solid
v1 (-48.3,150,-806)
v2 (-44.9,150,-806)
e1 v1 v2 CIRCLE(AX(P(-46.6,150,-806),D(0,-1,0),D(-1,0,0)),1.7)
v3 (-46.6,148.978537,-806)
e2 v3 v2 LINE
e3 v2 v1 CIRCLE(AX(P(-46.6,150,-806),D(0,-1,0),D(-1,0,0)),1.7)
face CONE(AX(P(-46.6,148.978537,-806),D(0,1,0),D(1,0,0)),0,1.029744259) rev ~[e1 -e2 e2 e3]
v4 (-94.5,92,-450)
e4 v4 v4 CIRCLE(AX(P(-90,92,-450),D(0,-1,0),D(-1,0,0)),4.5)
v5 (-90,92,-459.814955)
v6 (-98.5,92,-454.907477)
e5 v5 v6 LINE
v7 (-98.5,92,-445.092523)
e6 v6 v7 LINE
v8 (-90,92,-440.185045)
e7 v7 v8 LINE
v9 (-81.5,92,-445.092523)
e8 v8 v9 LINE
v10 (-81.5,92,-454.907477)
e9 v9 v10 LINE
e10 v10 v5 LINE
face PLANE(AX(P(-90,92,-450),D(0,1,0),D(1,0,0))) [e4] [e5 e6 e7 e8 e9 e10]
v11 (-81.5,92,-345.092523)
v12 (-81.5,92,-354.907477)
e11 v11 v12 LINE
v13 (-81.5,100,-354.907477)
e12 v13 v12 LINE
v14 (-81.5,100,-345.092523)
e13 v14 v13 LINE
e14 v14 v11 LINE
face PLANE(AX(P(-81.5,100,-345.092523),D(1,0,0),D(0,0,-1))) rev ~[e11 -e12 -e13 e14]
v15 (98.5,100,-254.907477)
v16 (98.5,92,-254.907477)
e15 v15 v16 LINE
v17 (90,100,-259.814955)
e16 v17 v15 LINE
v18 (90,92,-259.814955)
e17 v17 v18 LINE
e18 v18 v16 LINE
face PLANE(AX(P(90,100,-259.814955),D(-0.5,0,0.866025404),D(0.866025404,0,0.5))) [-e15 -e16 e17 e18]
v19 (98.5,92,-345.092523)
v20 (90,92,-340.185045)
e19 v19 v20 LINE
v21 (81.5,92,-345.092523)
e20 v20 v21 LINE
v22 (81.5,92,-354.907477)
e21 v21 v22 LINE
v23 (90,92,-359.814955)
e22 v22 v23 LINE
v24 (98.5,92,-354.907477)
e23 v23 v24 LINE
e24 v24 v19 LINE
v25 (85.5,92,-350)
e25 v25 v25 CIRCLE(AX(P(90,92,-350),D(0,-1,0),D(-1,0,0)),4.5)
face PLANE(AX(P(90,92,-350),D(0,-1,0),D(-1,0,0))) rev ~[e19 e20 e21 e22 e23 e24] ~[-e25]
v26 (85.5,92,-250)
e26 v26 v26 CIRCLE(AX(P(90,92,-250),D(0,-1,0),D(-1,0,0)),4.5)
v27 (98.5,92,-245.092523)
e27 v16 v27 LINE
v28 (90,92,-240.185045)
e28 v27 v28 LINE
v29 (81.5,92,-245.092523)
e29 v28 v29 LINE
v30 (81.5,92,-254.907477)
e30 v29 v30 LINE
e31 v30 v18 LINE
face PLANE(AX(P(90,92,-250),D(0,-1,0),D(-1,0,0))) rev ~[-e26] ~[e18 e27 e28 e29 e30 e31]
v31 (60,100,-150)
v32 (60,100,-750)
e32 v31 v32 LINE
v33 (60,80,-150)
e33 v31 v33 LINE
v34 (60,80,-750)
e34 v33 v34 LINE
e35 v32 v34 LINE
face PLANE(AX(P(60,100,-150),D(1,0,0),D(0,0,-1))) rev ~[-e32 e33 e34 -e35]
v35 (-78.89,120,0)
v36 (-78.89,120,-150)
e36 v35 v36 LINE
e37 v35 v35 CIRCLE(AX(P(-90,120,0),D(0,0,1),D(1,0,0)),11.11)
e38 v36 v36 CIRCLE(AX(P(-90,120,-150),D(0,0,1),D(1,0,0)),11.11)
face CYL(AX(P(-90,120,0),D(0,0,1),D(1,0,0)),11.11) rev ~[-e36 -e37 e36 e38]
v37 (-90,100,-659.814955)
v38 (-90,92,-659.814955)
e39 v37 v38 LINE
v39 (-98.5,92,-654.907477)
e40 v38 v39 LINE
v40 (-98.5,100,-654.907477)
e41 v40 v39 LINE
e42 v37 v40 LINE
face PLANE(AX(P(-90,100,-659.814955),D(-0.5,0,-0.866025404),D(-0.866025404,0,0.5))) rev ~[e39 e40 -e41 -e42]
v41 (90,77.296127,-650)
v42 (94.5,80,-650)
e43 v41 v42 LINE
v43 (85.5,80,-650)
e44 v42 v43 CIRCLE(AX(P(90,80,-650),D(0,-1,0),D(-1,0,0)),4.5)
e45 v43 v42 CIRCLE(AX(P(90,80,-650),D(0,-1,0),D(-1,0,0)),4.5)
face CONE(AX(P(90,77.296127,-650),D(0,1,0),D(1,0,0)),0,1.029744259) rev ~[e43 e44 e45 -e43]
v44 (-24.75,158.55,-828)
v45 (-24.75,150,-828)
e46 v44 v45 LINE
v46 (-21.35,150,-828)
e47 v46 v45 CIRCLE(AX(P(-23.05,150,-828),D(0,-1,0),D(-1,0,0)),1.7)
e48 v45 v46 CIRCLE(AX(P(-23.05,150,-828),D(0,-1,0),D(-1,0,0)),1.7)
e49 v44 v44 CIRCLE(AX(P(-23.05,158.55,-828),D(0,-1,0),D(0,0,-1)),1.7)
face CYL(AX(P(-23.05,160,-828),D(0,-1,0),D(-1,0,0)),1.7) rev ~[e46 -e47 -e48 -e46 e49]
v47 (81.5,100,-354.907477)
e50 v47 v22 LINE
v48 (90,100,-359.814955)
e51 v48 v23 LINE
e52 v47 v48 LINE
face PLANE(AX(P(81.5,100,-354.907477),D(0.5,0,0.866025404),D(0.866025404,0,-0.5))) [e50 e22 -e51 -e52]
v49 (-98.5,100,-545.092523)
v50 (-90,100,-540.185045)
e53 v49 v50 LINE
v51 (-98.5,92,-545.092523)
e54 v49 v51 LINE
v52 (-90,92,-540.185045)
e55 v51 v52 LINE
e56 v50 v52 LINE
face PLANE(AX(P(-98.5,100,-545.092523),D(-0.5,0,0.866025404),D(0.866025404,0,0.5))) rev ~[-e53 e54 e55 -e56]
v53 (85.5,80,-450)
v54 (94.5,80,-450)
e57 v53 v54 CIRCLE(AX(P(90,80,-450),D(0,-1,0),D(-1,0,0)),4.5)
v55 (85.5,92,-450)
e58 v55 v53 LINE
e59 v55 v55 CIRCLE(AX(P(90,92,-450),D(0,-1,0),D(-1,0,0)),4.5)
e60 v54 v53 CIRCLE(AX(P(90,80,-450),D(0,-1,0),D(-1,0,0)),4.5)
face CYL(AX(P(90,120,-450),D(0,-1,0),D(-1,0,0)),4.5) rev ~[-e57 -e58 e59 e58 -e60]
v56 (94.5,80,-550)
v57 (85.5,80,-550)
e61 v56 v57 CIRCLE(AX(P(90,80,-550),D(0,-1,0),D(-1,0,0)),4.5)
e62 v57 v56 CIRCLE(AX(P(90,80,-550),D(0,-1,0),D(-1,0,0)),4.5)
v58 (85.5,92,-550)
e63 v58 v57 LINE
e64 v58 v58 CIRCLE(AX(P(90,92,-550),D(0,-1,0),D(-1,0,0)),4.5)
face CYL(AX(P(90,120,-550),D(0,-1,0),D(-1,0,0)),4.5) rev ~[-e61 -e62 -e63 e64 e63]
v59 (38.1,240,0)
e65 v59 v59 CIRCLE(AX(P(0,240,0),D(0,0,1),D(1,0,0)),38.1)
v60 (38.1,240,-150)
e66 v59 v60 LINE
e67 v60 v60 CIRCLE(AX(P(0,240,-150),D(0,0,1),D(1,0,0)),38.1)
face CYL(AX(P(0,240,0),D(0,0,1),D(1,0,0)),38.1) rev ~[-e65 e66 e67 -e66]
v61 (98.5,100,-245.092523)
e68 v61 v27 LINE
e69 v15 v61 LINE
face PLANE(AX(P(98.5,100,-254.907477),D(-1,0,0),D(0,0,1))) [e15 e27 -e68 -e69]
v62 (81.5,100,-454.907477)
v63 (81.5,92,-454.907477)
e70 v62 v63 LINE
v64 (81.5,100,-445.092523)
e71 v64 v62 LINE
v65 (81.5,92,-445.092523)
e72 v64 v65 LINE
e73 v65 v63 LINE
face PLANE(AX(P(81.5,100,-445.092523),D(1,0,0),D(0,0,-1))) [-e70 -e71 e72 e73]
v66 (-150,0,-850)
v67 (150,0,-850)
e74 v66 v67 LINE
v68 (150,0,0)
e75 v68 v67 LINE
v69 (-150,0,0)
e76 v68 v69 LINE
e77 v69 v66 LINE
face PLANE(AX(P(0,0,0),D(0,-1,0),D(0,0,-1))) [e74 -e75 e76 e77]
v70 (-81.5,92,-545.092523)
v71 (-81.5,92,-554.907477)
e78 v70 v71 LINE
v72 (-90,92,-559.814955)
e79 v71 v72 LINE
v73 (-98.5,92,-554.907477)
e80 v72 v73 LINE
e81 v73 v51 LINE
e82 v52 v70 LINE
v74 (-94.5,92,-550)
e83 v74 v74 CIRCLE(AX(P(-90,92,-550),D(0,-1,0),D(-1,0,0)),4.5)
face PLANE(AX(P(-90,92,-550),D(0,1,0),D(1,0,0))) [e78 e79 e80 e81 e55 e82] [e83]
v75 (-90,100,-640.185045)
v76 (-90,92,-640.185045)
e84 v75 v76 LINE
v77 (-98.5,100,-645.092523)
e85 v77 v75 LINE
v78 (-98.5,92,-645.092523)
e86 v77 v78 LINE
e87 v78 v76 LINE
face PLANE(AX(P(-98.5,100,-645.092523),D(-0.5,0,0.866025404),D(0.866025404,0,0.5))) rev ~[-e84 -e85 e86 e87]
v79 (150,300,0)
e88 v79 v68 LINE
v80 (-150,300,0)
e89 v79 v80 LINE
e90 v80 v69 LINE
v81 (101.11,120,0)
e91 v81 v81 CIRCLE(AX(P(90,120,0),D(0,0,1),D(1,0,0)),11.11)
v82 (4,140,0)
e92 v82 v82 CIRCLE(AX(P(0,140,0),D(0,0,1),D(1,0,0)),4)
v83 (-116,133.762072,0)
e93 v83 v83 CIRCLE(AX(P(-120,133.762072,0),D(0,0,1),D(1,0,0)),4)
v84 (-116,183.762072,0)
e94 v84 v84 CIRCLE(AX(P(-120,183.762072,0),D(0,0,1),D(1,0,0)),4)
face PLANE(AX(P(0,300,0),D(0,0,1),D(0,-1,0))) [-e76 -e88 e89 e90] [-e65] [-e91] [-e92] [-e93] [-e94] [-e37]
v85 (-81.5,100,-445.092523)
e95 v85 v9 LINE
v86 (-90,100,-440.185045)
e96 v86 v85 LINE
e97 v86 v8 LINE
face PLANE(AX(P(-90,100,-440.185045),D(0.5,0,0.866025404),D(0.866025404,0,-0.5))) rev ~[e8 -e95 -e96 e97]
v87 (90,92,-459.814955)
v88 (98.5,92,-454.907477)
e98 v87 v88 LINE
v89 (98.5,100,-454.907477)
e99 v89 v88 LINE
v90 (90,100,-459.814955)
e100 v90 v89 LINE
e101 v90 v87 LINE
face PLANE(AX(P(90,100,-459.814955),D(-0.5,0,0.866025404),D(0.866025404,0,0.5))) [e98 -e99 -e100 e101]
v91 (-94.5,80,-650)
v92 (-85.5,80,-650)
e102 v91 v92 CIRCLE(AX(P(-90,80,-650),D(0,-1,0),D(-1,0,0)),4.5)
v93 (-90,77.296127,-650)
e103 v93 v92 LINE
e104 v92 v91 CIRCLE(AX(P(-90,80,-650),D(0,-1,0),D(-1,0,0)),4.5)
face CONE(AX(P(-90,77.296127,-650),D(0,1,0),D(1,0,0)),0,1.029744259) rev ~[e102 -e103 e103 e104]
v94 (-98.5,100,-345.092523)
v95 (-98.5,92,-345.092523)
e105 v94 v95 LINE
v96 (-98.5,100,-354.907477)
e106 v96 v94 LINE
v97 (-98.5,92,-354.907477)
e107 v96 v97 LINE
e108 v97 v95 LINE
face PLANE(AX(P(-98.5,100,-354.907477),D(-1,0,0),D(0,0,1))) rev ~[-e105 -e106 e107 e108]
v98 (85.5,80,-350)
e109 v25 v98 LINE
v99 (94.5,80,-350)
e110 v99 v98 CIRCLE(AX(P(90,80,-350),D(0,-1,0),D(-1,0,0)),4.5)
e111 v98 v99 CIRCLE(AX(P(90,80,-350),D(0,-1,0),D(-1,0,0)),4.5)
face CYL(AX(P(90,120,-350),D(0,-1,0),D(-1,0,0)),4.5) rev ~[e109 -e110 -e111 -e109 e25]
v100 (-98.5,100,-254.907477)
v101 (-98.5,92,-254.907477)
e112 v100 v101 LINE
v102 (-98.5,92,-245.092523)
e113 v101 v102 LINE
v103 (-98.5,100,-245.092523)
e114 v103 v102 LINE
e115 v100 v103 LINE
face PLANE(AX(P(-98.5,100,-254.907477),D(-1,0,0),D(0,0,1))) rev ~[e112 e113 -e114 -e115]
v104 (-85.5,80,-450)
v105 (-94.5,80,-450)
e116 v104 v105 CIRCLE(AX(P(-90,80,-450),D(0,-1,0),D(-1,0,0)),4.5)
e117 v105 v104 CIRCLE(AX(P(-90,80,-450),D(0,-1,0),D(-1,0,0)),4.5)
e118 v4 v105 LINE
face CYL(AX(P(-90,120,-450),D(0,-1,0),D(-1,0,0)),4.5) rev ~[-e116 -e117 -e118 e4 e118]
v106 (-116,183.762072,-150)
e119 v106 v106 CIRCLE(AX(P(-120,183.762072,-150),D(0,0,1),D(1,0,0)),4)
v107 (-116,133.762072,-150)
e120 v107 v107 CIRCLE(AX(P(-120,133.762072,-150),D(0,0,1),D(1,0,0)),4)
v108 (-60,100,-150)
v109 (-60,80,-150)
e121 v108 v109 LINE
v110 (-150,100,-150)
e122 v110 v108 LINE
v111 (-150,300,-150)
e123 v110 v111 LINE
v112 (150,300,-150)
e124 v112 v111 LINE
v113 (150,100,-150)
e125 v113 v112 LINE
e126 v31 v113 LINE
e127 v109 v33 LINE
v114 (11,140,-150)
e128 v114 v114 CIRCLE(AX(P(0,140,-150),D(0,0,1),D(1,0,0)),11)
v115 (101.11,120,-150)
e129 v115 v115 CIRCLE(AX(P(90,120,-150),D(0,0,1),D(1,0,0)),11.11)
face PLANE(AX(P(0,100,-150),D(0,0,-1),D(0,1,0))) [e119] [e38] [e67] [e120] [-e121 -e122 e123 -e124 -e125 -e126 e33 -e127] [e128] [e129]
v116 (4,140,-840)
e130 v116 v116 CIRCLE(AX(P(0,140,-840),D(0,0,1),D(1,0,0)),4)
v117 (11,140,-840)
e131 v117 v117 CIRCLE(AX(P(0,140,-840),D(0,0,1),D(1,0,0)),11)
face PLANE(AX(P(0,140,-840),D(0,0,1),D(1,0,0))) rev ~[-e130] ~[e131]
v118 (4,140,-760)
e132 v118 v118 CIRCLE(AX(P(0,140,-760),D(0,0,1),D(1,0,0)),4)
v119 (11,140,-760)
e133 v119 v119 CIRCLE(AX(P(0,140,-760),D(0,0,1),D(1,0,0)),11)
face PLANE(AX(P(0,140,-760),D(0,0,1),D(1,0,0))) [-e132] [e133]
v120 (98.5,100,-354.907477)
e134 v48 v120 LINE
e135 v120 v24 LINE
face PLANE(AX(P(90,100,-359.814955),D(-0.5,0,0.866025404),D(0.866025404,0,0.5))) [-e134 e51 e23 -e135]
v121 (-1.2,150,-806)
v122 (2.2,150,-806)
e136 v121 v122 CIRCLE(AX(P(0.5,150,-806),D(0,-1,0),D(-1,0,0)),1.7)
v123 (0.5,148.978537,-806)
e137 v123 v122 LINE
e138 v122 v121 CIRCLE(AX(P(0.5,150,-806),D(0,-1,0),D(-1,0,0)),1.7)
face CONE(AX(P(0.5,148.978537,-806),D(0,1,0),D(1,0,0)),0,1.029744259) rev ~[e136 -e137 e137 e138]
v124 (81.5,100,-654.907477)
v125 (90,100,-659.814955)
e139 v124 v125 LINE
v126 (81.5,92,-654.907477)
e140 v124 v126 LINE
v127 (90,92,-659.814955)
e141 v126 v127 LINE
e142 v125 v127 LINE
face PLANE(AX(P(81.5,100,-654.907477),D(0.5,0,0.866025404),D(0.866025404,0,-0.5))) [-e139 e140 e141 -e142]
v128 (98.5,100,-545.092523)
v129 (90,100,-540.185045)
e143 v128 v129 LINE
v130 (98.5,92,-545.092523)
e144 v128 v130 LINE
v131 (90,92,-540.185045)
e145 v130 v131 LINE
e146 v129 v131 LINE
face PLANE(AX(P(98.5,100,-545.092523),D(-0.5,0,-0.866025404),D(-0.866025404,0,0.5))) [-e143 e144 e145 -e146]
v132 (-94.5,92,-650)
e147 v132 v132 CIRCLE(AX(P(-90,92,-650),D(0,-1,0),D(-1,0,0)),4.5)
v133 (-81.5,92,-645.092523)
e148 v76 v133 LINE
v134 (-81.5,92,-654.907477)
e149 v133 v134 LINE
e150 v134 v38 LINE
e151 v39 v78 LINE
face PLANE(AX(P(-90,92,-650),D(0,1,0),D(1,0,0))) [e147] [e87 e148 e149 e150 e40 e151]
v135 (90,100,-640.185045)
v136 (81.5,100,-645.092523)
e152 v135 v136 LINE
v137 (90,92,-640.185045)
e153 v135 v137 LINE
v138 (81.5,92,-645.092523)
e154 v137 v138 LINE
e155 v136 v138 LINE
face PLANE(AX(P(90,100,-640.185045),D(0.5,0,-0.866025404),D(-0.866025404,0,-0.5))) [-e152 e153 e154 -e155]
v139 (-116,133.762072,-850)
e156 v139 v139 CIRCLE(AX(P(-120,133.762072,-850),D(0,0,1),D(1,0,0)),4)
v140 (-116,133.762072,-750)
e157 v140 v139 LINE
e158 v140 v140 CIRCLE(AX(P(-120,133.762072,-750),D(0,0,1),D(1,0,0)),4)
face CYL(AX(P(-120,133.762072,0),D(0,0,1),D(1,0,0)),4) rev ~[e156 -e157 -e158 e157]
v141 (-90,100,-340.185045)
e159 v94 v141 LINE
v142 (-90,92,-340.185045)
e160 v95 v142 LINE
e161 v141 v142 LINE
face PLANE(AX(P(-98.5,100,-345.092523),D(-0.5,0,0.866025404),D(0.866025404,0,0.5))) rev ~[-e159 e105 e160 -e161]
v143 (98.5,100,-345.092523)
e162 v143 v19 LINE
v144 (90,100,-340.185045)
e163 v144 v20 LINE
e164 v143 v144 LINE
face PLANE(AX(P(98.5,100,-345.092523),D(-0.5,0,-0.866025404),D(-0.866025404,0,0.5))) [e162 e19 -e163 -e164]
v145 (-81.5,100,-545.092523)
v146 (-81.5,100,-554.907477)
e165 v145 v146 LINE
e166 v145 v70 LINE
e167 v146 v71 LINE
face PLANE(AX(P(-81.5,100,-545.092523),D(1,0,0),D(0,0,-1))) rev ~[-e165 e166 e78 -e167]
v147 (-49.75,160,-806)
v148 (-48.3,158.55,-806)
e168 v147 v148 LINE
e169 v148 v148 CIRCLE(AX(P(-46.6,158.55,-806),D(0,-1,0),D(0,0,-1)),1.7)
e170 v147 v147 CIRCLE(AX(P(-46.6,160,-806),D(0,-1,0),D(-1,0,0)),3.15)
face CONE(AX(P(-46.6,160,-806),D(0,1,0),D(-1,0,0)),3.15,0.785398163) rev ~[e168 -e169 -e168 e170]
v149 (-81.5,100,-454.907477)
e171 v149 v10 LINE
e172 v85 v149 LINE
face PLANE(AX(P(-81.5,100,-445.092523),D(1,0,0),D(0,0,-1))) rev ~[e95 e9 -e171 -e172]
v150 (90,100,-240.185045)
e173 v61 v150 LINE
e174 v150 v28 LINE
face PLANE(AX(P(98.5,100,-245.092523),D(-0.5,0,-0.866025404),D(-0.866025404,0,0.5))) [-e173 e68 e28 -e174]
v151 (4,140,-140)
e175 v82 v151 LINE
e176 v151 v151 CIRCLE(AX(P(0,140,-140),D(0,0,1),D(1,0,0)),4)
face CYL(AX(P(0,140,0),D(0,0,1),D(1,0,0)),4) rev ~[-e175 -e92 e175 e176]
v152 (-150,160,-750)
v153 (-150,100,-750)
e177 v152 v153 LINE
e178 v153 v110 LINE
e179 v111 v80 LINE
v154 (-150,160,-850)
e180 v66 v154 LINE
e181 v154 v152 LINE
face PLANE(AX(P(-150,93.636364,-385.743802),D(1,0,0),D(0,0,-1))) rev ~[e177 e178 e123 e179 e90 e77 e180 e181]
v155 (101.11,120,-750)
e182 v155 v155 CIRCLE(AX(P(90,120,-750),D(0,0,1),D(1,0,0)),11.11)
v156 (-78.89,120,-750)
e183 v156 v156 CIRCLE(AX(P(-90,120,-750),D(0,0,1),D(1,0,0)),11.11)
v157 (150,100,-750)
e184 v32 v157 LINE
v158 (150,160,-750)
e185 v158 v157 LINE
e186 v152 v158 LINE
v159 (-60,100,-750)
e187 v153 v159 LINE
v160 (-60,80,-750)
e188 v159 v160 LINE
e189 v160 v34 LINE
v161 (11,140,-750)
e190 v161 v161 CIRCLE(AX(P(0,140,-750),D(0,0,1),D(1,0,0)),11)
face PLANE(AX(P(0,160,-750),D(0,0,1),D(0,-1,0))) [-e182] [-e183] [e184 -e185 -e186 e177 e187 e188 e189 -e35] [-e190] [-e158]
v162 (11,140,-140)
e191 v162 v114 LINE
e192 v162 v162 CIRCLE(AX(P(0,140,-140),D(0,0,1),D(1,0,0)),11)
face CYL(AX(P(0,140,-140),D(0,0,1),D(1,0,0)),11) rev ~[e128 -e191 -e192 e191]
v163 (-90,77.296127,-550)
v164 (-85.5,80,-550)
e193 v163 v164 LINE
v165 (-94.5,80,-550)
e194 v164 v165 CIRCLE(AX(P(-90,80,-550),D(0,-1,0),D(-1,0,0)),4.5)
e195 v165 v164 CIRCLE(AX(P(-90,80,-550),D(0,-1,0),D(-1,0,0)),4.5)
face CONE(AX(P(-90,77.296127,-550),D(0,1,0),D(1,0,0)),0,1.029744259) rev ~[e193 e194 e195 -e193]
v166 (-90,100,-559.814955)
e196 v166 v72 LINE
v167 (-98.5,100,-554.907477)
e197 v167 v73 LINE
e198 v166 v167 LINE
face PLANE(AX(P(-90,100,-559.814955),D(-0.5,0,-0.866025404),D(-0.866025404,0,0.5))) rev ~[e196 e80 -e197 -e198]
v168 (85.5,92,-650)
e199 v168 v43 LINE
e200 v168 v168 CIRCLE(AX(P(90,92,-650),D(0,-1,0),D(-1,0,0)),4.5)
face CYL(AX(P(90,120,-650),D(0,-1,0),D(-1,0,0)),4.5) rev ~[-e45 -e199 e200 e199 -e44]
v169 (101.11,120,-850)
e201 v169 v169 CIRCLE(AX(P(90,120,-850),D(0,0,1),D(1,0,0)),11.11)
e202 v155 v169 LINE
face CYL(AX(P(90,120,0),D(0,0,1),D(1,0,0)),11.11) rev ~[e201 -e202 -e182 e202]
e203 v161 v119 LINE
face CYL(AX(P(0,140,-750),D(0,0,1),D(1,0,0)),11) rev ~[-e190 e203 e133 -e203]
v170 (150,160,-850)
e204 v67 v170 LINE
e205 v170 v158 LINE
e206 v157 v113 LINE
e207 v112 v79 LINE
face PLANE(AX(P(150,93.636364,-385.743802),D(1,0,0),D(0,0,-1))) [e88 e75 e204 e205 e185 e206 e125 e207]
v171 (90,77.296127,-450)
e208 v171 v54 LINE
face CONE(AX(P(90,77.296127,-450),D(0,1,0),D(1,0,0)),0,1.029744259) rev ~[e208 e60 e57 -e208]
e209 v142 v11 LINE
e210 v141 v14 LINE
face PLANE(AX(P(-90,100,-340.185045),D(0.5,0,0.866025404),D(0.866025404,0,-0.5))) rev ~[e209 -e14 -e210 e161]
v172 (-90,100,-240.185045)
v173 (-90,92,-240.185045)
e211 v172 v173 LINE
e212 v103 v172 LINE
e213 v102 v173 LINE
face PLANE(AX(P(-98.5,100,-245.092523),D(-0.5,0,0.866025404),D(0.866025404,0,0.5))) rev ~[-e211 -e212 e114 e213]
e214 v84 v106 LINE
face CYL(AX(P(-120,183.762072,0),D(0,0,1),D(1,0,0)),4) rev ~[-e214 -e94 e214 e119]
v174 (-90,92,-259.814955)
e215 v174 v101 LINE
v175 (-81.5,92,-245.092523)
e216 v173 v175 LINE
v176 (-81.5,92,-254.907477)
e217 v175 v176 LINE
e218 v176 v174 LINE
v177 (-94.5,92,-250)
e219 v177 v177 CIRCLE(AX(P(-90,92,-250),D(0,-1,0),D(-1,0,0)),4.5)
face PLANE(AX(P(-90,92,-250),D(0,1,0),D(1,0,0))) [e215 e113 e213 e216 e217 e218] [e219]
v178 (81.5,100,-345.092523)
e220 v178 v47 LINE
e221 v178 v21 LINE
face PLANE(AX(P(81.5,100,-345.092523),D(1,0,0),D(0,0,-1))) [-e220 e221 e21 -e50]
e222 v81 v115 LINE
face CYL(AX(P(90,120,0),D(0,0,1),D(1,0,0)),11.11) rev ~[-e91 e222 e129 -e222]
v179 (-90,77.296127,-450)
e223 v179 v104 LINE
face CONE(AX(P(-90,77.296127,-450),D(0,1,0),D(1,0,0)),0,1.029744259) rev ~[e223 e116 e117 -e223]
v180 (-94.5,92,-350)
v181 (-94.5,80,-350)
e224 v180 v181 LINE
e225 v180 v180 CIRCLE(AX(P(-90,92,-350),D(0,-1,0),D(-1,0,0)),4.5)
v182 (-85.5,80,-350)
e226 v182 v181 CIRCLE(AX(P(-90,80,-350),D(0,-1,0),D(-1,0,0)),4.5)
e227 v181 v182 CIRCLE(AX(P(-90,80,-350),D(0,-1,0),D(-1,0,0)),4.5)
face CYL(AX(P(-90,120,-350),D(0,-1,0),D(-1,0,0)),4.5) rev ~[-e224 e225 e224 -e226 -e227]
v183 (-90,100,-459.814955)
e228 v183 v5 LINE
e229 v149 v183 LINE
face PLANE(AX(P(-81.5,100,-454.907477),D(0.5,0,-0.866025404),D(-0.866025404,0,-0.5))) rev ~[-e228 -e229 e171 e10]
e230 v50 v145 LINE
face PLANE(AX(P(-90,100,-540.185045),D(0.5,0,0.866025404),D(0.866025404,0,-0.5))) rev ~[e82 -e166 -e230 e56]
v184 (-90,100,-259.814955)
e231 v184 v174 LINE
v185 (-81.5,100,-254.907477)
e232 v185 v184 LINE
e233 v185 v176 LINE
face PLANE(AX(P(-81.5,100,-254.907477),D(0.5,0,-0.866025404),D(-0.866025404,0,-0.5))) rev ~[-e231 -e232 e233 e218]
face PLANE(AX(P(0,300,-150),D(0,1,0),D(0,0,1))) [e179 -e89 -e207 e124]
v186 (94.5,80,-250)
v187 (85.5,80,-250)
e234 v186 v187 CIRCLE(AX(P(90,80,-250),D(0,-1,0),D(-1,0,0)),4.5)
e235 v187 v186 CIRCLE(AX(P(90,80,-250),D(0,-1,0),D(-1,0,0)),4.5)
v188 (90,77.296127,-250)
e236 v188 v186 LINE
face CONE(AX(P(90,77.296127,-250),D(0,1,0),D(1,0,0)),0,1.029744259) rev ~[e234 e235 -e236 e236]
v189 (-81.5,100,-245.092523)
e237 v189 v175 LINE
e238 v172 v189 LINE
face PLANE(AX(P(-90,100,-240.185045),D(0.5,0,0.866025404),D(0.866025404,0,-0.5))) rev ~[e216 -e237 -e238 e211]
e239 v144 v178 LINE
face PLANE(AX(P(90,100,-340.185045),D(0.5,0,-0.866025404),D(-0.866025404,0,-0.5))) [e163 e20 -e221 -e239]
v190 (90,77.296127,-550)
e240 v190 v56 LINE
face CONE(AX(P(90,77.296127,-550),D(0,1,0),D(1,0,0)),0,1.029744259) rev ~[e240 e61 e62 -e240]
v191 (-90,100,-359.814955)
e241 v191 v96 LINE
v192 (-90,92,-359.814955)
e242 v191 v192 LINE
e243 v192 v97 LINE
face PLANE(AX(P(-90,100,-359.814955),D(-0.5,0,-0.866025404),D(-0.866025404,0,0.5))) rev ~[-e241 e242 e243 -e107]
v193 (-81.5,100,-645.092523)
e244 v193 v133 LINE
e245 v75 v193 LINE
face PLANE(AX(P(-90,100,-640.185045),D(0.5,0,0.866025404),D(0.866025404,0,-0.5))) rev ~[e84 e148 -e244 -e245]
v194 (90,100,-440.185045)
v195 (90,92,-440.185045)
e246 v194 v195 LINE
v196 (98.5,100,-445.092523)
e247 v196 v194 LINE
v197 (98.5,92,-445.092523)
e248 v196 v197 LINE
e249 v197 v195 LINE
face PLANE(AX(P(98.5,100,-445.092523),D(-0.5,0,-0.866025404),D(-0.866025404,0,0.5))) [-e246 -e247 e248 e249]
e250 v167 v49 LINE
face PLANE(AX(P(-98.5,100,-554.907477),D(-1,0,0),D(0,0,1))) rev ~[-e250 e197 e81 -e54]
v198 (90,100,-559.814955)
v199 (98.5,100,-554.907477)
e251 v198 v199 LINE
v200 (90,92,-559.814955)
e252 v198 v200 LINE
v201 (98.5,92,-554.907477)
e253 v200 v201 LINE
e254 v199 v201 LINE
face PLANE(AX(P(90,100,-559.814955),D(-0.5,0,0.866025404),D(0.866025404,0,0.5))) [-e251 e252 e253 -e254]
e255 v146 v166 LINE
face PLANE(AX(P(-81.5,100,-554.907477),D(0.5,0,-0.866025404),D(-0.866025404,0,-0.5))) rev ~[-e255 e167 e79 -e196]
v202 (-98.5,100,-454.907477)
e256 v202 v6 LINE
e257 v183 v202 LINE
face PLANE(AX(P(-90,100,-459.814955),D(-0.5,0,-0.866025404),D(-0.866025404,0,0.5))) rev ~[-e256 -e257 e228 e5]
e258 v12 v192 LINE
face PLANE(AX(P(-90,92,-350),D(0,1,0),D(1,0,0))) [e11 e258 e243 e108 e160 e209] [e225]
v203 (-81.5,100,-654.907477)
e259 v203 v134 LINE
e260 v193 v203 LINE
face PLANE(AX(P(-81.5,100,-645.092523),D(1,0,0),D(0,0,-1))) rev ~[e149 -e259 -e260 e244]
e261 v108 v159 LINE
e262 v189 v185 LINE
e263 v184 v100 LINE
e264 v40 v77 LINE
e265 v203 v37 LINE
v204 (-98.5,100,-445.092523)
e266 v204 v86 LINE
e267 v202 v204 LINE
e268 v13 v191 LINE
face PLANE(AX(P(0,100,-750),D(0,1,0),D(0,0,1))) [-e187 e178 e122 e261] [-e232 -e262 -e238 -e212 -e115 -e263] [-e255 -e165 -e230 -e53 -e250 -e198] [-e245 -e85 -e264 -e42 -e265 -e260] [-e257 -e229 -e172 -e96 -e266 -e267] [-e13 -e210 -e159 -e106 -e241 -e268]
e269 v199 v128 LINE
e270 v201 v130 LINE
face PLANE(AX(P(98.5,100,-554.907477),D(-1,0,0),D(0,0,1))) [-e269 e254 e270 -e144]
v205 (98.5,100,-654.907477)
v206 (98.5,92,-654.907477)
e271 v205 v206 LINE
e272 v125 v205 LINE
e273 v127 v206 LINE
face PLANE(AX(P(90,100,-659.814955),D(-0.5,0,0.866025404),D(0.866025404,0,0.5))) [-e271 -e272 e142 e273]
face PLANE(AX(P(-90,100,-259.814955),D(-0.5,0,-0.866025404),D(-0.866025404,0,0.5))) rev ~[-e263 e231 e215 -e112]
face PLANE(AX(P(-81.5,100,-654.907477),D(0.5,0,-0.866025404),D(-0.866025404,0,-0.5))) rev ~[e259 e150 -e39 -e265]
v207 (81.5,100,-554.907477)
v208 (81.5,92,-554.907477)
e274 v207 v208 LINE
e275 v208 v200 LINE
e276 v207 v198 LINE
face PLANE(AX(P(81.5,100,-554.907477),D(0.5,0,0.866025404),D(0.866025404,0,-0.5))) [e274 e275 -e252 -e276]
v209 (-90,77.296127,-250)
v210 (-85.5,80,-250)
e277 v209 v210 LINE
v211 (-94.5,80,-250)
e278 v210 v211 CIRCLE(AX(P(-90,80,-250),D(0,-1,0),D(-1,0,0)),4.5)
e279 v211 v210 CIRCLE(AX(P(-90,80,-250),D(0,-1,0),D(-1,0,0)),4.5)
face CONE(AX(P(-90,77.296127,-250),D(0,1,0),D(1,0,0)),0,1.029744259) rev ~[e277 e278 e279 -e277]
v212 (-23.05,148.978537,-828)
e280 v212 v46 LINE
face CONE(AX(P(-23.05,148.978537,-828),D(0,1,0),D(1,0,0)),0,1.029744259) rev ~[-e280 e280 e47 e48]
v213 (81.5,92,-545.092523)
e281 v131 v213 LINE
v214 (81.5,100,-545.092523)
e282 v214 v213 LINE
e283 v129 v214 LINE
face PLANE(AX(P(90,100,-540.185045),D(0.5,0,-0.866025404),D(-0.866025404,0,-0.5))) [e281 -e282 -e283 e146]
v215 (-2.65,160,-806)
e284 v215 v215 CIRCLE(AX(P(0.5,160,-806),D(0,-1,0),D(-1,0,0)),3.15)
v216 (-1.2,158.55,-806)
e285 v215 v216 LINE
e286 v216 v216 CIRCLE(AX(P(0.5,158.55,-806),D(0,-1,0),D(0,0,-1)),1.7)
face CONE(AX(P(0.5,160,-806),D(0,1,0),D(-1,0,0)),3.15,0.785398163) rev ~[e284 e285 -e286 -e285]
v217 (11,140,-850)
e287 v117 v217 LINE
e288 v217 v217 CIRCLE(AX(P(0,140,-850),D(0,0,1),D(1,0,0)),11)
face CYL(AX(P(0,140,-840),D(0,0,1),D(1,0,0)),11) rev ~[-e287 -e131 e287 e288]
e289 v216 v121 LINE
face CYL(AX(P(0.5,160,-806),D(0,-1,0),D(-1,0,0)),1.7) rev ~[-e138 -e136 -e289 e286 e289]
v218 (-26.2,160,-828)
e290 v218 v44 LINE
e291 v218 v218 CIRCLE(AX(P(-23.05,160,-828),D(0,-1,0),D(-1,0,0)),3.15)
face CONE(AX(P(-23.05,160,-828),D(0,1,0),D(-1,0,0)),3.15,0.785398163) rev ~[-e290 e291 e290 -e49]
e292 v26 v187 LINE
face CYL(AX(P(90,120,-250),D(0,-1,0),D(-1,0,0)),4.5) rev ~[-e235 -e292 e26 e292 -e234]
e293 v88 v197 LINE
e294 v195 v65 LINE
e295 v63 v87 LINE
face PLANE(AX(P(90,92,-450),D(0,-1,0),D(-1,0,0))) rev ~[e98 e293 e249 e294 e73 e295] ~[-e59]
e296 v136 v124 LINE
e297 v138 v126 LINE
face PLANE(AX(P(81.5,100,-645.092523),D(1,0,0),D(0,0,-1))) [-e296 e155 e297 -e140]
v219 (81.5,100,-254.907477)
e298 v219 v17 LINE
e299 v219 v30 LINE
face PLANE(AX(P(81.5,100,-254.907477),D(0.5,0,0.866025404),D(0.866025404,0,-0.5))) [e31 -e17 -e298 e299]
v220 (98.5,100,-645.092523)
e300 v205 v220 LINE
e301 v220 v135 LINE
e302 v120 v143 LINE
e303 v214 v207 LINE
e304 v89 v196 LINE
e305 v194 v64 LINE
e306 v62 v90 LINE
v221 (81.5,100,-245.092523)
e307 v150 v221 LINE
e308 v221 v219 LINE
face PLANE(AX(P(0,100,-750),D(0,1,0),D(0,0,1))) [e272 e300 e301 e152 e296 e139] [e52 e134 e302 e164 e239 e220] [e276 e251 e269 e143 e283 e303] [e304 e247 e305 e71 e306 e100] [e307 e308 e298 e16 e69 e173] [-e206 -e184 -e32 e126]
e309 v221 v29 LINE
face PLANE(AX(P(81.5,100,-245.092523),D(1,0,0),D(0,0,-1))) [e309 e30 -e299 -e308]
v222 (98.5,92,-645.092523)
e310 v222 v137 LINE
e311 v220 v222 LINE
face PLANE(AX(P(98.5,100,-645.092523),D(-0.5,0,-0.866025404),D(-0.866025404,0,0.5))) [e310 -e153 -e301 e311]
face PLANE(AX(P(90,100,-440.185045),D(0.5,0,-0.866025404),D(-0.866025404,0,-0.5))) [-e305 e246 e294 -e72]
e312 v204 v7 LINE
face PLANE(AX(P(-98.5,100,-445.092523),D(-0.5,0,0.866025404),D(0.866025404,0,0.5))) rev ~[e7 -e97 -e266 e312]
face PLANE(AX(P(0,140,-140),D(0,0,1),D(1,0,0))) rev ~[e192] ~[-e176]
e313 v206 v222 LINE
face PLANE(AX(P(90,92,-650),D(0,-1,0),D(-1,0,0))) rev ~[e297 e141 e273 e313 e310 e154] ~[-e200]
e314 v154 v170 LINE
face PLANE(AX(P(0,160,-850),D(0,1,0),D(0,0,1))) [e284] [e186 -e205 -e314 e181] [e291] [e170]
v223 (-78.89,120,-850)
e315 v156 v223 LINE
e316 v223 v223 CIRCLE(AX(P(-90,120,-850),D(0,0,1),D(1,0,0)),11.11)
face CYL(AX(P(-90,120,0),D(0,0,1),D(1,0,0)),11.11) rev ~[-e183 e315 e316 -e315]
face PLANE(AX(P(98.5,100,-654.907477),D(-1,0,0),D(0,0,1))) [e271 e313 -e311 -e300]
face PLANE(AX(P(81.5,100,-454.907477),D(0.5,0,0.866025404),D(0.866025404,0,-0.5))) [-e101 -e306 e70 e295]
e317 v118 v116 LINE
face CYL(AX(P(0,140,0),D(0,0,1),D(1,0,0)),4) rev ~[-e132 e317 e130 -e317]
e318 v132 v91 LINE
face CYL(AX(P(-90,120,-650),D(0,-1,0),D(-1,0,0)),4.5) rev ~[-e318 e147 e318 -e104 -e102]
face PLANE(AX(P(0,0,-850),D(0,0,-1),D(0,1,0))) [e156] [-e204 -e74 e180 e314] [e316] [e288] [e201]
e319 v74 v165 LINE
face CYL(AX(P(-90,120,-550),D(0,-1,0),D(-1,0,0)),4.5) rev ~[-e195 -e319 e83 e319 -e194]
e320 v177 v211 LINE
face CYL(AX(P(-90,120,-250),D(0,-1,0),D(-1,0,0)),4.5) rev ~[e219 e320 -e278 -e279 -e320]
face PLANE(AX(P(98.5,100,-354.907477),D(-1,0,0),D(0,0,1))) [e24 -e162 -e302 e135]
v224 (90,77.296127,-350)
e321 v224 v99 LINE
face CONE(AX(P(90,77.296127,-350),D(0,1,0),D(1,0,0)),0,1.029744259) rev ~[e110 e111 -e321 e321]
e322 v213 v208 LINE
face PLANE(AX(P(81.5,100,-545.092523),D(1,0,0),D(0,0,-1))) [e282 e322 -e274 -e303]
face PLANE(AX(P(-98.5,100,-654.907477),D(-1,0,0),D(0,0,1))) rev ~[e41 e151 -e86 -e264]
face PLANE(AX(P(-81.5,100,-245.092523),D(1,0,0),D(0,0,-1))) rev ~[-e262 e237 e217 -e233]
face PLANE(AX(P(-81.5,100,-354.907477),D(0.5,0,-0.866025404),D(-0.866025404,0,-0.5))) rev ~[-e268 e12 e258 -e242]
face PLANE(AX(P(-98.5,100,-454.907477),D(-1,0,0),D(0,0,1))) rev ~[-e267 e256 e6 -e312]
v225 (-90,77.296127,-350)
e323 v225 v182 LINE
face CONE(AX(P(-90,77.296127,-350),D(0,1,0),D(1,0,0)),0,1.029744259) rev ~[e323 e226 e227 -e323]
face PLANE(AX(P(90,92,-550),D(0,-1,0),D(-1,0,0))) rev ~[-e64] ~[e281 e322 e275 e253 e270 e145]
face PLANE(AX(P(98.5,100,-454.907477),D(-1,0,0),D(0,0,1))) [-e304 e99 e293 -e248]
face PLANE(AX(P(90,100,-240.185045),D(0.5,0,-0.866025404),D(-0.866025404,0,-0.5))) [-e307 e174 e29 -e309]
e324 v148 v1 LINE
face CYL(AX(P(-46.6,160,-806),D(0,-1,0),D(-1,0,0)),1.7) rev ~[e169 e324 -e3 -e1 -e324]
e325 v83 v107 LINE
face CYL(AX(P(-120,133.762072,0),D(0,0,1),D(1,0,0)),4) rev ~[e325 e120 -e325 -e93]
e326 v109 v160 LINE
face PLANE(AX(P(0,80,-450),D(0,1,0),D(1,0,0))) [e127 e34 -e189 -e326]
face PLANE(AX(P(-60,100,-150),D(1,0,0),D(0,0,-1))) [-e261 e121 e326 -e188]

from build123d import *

# Parameters (mm, degrees)
RESSALTO_EXTRUS_O1_DEPTH                        = 150
CORTE_EXTRUS_O1_REACH                           = 915.783
ESBO_O2_R                                       = 38.1
ESBO_O2_R_2                                     = 4
ESBO_O2_R_3                                     = 11.11
SKETCH2_W                                       = 120
SKETCH2_H                                       = 600
CUT_EXTRUDE2_DEPTH                              = 20
CSK_FOR_M3_FLAT_HEAD_MACHINE_SCREW1_D           = 3.4
CSK_FOR_M3_FLAT_HEAD_MACHINE_SCREW1_DEPTH       = 10
CSK_FOR_M3_FLAT_HEAD_MACHINE_SCREW1_CSINK_D     = 6.3
CSK_FOR_M3_FLAT_HEAD_MACHINE_SCREW1_CSINK_ANGLE = 90
CSK_FOR_M3_FLAT_HEAD_MACHINE_SCREW1_TIP         = 1.021463052
SKETCH6_R                                       = 11
CUT_EXTRUDE3_DEPTH                              = 10
LPATTERN1_COUNT                                 = 2
LPATTERN1_PITCH                                 = 90
CUT_EXTRUDE4_START                              = 610
SKETCH6_2_R                                     = 11
CUT_EXTRUDE4_DEPTH                              = 10
TAP_DRILL_FOR_M10X1_0_TAP1_D                    = 9
TAP_DRILL_FOR_M10X1_0_TAP1_DEPTH                = 20
TAP_DRILL_FOR_M10X1_0_TAP1_TIP                  = 2.703872786
CUT_EXTRUDE5_DEPTH                              = 8


with BuildPart() as part:
    # Esboço1 → Ressalto-extrusão1 (new, symmetric)
    with BuildSketch(Plane(origin=(0, 0, 0), x_dir=(0, 0, -1), z_dir=(1, 0, 0))):
        Polygon((0, 0), (850, 0), (850, 160), (750, 160), (750, 100), (150, 100), (150, 300), (0, 300), align=None)
    extrude(amount=RESSALTO_EXTRUS_O1_DEPTH, both=True)

    # Corte-extrusão1: up to this face of the body (flat: up to its plane)
    corte_extrus_o1_end = Plane(part.part.faces().sort_by_distance((0, 80, -850))[0])
    # Esboço2 → Corte-extrusão1 (cut, up to the picked face)
    with BuildSketch(Plane.XY, mode=Mode.PRIVATE) as corte_extrus_o1_sk1:
        with Locations((0, 240)):
            Circle(ESBO_O2_R)
    corte_extrus_o1_tool1 = split(extrude(corte_extrus_o1_sk1.sketch, amount=-CORTE_EXTRUS_O1_REACH, mode=Mode.PRIVATE), bisect_by=corte_extrus_o1_end, keep=Keep.BOTH, mode=Mode.PRIVATE)
    # Esboço2 → Corte-extrusão1 (cut, up to the picked face)
    with BuildSketch(Plane.XY, mode=Mode.PRIVATE) as corte_extrus_o1_sk2:
        with Locations((0, 140)):
            Circle(ESBO_O2_R_2)
    corte_extrus_o1_tool2 = split(extrude(corte_extrus_o1_sk2.sketch, amount=-CORTE_EXTRUS_O1_REACH, mode=Mode.PRIVATE), bisect_by=corte_extrus_o1_end, keep=Keep.BOTH, mode=Mode.PRIVATE)
    # Esboço2 → Corte-extrusão1 (cut, up to the picked face)
    with BuildSketch(Plane.XY, mode=Mode.PRIVATE) as corte_extrus_o1_sk3:
        with Locations((-90, 120)):
            Circle(ESBO_O2_R_3)
    corte_extrus_o1_tool3 = split(extrude(corte_extrus_o1_sk3.sketch, amount=-CORTE_EXTRUS_O1_REACH, mode=Mode.PRIVATE), bisect_by=corte_extrus_o1_end, keep=Keep.BOTH, mode=Mode.PRIVATE)
    # Esboço2 → Corte-extrusão1 (cut, up to the picked face)
    with BuildSketch(Plane.XY, mode=Mode.PRIVATE) as corte_extrus_o1_sk4:
        with Locations((90, 120)):
            Circle(ESBO_O2_R_3)
    corte_extrus_o1_tool4 = split(extrude(corte_extrus_o1_sk4.sketch, amount=-CORTE_EXTRUS_O1_REACH, mode=Mode.PRIVATE), bisect_by=corte_extrus_o1_end, keep=Keep.BOTH, mode=Mode.PRIVATE)
    # Esboço2 → Corte-extrusão1 (cut, up to the picked face)
    with BuildSketch(Plane.XY, mode=Mode.PRIVATE) as corte_extrus_o1_sk5:
        with Locations((-120, 183.762072292)):
            Circle(ESBO_O2_R_2)
    corte_extrus_o1_tool5 = split(extrude(corte_extrus_o1_sk5.sketch, amount=-CORTE_EXTRUS_O1_REACH, mode=Mode.PRIVATE), bisect_by=corte_extrus_o1_end, keep=Keep.BOTH, mode=Mode.PRIVATE)
    # Esboço2 → Corte-extrusão1 (cut, up to the picked face)
    with BuildSketch(Plane.XY, mode=Mode.PRIVATE) as corte_extrus_o1_sk6:
        with Locations((-120, 133.762072292)):
            Circle(ESBO_O2_R_2)
    corte_extrus_o1_tool6 = split(extrude(corte_extrus_o1_sk6.sketch, amount=-CORTE_EXTRUS_O1_REACH, mode=Mode.PRIVATE), bisect_by=corte_extrus_o1_end, keep=Keep.BOTH, mode=Mode.PRIVATE)
    add(corte_extrus_o1_tool1.solids().sort_by(Axis((0, 240, 0), (0, 0, -1)))[0], mode=Mode.SUBTRACT)
    add(corte_extrus_o1_tool2.solids().sort_by(Axis((0, 140, 0), (0, 0, -1)))[0], mode=Mode.SUBTRACT)
    add(corte_extrus_o1_tool3.solids().sort_by(Axis((-90, 120, 0), (0, 0, -1)))[0], mode=Mode.SUBTRACT)
    add(corte_extrus_o1_tool4.solids().sort_by(Axis((90, 120, 0), (0, 0, -1)))[0], mode=Mode.SUBTRACT)
    add(corte_extrus_o1_tool5.solids().sort_by(Axis((-120, 183.762072, 0), (0, 0, -1)))[0], mode=Mode.SUBTRACT)
    add(corte_extrus_o1_tool6.solids().sort_by(Axis((-120, 133.762072, 0), (0, 0, -1)))[0], mode=Mode.SUBTRACT)

    # Sketch2 → Cut-Extrude2 (cut)
    with BuildSketch(Plane(origin=(0, 100, 0), x_dir=(1, 0, 0), z_dir=(0, 1, 0))):
        with Locations((0, 450)):
            Rectangle(SKETCH2_W, SKETCH2_H)
    extrude(amount=-CUT_EXTRUDE2_DEPTH, mode=Mode.SUBTRACT)

    # CSK for M3 Flat Head Machine Screw1
    with Locations(Plane(origin=(0, 160, 0), x_dir=(1, 0, 0), z_dir=(0, 1, 0))):
        with Locations((-46.6, 806), (-23.05, 828), (0.5, 806)):
            CounterSinkHole(CSK_FOR_M3_FLAT_HEAD_MACHINE_SCREW1_D / 2, CSK_FOR_M3_FLAT_HEAD_MACHINE_SCREW1_CSINK_D / 2, depth=CSK_FOR_M3_FLAT_HEAD_MACHINE_SCREW1_DEPTH, counter_sink_angle=CSK_FOR_M3_FLAT_HEAD_MACHINE_SCREW1_CSINK_ANGLE)
            with Locations((0, 0, -(CSK_FOR_M3_FLAT_HEAD_MACHINE_SCREW1_DEPTH + CSK_FOR_M3_FLAT_HEAD_MACHINE_SCREW1_TIP / 2))):  # 118° drill point
                Cone(0, CSK_FOR_M3_FLAT_HEAD_MACHINE_SCREW1_D / 2, CSK_FOR_M3_FLAT_HEAD_MACHINE_SCREW1_TIP, mode=Mode.SUBTRACT)

    # Sketch6 → Cut-Extrude3 (cut)
    with BuildSketch(Plane.XY.offset(-750)):
        with Locations((0, 140)):
            Circle(SKETCH6_R)
    cut_extrude3 = extrude(amount=-CUT_EXTRUDE3_DEPTH, mode=Mode.SUBTRACT)

    # LPattern1: Cut-Extrude3 ×2
    with Locations(*[(0, 0, -i * LPATTERN1_PITCH) for i in range(1, LPATTERN1_COUNT)]):
        add(cut_extrude3, mode=Mode.SUBTRACT)

    # Sketch6<2> → Cut-Extrude4 (cut)
    with BuildSketch(Plane.XY.offset(-750).offset(CUT_EXTRUDE4_START)):
        with Locations((0, 140)):
            Circle(SKETCH6_2_R)
    extrude(amount=-CUT_EXTRUDE4_DEPTH, mode=Mode.SUBTRACT)

    # Tap Drill for M10x1.0 Tap1
    with Locations(Plane(origin=(0, 100, 0), x_dir=(1, 0, 0), z_dir=(0, 1, 0))):
        with Locations((-90, 650), (90, 650), (-90, 550), (90, 550), (90, 450), (-90, 450), (-90, 350), (-90, 250), (90, 250), (90, 350)):
            Hole(TAP_DRILL_FOR_M10X1_0_TAP1_D / 2, depth=TAP_DRILL_FOR_M10X1_0_TAP1_DEPTH)
            with Locations((0, 0, -(TAP_DRILL_FOR_M10X1_0_TAP1_DEPTH + TAP_DRILL_FOR_M10X1_0_TAP1_TIP / 2))):  # 118° drill point
                Cone(0, TAP_DRILL_FOR_M10X1_0_TAP1_D / 2, TAP_DRILL_FOR_M10X1_0_TAP1_TIP, mode=Mode.SUBTRACT)

    # Sketch10 → Cut-Extrude5 (cut)
    with BuildSketch(Plane(origin=(0, 100, 0), x_dir=(1, 0, 0), z_dir=(0, 1, 0))):
        Polygon((-98.5, 645.092522712), (-90, 640.185045424), (-81.5, 645.092522712), (-81.5, 654.907477288), (-90, 659.814954576), (-98.5, 654.907477288), align=None)
        Polygon((98.5, 654.907477288), (98.5, 645.092522712), (90, 640.185045424), (81.5, 645.092522712), (81.5, 654.907477288), (90, 659.814954576), align=None)
        Polygon((-98.5, 545.092522712), (-90, 540.185045424), (-81.5, 545.092522712), (-81.5, 554.907477288), (-90, 559.814954576), (-98.5, 554.907477288), align=None)
        Polygon((98.5, 554.907477288), (98.5, 545.092522712), (90, 540.185045424), (81.5, 545.092522712), (81.5, 554.907477288), (90, 559.814954576), align=None)
        Polygon((-98.5, 445.092522712), (-90, 440.185045424), (-81.5, 445.092522712), (-81.5, 454.907477288), (-90, 459.814954576), (-98.5, 454.907477288), align=None)
        Polygon((98.5, 454.907477288), (98.5, 445.092522712), (90, 440.185045424), (81.5, 445.092522712), (81.5, 454.907477288), (90, 459.814954576), align=None)
        Polygon((-98.5, 345.092522712), (-90, 340.185045424), (-81.5, 345.092522712), (-81.5, 354.907477288), (-90, 359.814954576), (-98.5, 354.907477288), align=None)
        Polygon((98.5, 354.907477288), (98.5, 345.092522712), (90, 340.185045424), (81.5, 345.092522712), (81.5, 354.907477288), (90, 359.814954576), align=None)
        Polygon((-98.5, 245.092522712), (-90, 240.185045424), (-81.5, 245.092522712), (-81.5, 254.907477288), (-90, 259.814954576), (-98.5, 254.907477288), align=None)
        Polygon((98.5, 254.907477288), (98.5, 245.092522712), (90, 240.185045424), (81.5, 245.092522712), (81.5, 254.907477288), (90, 259.814954576), align=None)
    extrude(amount=-CUT_EXTRUDE5_DEPTH, mode=Mode.SUBTRACT)


solid = part.part
